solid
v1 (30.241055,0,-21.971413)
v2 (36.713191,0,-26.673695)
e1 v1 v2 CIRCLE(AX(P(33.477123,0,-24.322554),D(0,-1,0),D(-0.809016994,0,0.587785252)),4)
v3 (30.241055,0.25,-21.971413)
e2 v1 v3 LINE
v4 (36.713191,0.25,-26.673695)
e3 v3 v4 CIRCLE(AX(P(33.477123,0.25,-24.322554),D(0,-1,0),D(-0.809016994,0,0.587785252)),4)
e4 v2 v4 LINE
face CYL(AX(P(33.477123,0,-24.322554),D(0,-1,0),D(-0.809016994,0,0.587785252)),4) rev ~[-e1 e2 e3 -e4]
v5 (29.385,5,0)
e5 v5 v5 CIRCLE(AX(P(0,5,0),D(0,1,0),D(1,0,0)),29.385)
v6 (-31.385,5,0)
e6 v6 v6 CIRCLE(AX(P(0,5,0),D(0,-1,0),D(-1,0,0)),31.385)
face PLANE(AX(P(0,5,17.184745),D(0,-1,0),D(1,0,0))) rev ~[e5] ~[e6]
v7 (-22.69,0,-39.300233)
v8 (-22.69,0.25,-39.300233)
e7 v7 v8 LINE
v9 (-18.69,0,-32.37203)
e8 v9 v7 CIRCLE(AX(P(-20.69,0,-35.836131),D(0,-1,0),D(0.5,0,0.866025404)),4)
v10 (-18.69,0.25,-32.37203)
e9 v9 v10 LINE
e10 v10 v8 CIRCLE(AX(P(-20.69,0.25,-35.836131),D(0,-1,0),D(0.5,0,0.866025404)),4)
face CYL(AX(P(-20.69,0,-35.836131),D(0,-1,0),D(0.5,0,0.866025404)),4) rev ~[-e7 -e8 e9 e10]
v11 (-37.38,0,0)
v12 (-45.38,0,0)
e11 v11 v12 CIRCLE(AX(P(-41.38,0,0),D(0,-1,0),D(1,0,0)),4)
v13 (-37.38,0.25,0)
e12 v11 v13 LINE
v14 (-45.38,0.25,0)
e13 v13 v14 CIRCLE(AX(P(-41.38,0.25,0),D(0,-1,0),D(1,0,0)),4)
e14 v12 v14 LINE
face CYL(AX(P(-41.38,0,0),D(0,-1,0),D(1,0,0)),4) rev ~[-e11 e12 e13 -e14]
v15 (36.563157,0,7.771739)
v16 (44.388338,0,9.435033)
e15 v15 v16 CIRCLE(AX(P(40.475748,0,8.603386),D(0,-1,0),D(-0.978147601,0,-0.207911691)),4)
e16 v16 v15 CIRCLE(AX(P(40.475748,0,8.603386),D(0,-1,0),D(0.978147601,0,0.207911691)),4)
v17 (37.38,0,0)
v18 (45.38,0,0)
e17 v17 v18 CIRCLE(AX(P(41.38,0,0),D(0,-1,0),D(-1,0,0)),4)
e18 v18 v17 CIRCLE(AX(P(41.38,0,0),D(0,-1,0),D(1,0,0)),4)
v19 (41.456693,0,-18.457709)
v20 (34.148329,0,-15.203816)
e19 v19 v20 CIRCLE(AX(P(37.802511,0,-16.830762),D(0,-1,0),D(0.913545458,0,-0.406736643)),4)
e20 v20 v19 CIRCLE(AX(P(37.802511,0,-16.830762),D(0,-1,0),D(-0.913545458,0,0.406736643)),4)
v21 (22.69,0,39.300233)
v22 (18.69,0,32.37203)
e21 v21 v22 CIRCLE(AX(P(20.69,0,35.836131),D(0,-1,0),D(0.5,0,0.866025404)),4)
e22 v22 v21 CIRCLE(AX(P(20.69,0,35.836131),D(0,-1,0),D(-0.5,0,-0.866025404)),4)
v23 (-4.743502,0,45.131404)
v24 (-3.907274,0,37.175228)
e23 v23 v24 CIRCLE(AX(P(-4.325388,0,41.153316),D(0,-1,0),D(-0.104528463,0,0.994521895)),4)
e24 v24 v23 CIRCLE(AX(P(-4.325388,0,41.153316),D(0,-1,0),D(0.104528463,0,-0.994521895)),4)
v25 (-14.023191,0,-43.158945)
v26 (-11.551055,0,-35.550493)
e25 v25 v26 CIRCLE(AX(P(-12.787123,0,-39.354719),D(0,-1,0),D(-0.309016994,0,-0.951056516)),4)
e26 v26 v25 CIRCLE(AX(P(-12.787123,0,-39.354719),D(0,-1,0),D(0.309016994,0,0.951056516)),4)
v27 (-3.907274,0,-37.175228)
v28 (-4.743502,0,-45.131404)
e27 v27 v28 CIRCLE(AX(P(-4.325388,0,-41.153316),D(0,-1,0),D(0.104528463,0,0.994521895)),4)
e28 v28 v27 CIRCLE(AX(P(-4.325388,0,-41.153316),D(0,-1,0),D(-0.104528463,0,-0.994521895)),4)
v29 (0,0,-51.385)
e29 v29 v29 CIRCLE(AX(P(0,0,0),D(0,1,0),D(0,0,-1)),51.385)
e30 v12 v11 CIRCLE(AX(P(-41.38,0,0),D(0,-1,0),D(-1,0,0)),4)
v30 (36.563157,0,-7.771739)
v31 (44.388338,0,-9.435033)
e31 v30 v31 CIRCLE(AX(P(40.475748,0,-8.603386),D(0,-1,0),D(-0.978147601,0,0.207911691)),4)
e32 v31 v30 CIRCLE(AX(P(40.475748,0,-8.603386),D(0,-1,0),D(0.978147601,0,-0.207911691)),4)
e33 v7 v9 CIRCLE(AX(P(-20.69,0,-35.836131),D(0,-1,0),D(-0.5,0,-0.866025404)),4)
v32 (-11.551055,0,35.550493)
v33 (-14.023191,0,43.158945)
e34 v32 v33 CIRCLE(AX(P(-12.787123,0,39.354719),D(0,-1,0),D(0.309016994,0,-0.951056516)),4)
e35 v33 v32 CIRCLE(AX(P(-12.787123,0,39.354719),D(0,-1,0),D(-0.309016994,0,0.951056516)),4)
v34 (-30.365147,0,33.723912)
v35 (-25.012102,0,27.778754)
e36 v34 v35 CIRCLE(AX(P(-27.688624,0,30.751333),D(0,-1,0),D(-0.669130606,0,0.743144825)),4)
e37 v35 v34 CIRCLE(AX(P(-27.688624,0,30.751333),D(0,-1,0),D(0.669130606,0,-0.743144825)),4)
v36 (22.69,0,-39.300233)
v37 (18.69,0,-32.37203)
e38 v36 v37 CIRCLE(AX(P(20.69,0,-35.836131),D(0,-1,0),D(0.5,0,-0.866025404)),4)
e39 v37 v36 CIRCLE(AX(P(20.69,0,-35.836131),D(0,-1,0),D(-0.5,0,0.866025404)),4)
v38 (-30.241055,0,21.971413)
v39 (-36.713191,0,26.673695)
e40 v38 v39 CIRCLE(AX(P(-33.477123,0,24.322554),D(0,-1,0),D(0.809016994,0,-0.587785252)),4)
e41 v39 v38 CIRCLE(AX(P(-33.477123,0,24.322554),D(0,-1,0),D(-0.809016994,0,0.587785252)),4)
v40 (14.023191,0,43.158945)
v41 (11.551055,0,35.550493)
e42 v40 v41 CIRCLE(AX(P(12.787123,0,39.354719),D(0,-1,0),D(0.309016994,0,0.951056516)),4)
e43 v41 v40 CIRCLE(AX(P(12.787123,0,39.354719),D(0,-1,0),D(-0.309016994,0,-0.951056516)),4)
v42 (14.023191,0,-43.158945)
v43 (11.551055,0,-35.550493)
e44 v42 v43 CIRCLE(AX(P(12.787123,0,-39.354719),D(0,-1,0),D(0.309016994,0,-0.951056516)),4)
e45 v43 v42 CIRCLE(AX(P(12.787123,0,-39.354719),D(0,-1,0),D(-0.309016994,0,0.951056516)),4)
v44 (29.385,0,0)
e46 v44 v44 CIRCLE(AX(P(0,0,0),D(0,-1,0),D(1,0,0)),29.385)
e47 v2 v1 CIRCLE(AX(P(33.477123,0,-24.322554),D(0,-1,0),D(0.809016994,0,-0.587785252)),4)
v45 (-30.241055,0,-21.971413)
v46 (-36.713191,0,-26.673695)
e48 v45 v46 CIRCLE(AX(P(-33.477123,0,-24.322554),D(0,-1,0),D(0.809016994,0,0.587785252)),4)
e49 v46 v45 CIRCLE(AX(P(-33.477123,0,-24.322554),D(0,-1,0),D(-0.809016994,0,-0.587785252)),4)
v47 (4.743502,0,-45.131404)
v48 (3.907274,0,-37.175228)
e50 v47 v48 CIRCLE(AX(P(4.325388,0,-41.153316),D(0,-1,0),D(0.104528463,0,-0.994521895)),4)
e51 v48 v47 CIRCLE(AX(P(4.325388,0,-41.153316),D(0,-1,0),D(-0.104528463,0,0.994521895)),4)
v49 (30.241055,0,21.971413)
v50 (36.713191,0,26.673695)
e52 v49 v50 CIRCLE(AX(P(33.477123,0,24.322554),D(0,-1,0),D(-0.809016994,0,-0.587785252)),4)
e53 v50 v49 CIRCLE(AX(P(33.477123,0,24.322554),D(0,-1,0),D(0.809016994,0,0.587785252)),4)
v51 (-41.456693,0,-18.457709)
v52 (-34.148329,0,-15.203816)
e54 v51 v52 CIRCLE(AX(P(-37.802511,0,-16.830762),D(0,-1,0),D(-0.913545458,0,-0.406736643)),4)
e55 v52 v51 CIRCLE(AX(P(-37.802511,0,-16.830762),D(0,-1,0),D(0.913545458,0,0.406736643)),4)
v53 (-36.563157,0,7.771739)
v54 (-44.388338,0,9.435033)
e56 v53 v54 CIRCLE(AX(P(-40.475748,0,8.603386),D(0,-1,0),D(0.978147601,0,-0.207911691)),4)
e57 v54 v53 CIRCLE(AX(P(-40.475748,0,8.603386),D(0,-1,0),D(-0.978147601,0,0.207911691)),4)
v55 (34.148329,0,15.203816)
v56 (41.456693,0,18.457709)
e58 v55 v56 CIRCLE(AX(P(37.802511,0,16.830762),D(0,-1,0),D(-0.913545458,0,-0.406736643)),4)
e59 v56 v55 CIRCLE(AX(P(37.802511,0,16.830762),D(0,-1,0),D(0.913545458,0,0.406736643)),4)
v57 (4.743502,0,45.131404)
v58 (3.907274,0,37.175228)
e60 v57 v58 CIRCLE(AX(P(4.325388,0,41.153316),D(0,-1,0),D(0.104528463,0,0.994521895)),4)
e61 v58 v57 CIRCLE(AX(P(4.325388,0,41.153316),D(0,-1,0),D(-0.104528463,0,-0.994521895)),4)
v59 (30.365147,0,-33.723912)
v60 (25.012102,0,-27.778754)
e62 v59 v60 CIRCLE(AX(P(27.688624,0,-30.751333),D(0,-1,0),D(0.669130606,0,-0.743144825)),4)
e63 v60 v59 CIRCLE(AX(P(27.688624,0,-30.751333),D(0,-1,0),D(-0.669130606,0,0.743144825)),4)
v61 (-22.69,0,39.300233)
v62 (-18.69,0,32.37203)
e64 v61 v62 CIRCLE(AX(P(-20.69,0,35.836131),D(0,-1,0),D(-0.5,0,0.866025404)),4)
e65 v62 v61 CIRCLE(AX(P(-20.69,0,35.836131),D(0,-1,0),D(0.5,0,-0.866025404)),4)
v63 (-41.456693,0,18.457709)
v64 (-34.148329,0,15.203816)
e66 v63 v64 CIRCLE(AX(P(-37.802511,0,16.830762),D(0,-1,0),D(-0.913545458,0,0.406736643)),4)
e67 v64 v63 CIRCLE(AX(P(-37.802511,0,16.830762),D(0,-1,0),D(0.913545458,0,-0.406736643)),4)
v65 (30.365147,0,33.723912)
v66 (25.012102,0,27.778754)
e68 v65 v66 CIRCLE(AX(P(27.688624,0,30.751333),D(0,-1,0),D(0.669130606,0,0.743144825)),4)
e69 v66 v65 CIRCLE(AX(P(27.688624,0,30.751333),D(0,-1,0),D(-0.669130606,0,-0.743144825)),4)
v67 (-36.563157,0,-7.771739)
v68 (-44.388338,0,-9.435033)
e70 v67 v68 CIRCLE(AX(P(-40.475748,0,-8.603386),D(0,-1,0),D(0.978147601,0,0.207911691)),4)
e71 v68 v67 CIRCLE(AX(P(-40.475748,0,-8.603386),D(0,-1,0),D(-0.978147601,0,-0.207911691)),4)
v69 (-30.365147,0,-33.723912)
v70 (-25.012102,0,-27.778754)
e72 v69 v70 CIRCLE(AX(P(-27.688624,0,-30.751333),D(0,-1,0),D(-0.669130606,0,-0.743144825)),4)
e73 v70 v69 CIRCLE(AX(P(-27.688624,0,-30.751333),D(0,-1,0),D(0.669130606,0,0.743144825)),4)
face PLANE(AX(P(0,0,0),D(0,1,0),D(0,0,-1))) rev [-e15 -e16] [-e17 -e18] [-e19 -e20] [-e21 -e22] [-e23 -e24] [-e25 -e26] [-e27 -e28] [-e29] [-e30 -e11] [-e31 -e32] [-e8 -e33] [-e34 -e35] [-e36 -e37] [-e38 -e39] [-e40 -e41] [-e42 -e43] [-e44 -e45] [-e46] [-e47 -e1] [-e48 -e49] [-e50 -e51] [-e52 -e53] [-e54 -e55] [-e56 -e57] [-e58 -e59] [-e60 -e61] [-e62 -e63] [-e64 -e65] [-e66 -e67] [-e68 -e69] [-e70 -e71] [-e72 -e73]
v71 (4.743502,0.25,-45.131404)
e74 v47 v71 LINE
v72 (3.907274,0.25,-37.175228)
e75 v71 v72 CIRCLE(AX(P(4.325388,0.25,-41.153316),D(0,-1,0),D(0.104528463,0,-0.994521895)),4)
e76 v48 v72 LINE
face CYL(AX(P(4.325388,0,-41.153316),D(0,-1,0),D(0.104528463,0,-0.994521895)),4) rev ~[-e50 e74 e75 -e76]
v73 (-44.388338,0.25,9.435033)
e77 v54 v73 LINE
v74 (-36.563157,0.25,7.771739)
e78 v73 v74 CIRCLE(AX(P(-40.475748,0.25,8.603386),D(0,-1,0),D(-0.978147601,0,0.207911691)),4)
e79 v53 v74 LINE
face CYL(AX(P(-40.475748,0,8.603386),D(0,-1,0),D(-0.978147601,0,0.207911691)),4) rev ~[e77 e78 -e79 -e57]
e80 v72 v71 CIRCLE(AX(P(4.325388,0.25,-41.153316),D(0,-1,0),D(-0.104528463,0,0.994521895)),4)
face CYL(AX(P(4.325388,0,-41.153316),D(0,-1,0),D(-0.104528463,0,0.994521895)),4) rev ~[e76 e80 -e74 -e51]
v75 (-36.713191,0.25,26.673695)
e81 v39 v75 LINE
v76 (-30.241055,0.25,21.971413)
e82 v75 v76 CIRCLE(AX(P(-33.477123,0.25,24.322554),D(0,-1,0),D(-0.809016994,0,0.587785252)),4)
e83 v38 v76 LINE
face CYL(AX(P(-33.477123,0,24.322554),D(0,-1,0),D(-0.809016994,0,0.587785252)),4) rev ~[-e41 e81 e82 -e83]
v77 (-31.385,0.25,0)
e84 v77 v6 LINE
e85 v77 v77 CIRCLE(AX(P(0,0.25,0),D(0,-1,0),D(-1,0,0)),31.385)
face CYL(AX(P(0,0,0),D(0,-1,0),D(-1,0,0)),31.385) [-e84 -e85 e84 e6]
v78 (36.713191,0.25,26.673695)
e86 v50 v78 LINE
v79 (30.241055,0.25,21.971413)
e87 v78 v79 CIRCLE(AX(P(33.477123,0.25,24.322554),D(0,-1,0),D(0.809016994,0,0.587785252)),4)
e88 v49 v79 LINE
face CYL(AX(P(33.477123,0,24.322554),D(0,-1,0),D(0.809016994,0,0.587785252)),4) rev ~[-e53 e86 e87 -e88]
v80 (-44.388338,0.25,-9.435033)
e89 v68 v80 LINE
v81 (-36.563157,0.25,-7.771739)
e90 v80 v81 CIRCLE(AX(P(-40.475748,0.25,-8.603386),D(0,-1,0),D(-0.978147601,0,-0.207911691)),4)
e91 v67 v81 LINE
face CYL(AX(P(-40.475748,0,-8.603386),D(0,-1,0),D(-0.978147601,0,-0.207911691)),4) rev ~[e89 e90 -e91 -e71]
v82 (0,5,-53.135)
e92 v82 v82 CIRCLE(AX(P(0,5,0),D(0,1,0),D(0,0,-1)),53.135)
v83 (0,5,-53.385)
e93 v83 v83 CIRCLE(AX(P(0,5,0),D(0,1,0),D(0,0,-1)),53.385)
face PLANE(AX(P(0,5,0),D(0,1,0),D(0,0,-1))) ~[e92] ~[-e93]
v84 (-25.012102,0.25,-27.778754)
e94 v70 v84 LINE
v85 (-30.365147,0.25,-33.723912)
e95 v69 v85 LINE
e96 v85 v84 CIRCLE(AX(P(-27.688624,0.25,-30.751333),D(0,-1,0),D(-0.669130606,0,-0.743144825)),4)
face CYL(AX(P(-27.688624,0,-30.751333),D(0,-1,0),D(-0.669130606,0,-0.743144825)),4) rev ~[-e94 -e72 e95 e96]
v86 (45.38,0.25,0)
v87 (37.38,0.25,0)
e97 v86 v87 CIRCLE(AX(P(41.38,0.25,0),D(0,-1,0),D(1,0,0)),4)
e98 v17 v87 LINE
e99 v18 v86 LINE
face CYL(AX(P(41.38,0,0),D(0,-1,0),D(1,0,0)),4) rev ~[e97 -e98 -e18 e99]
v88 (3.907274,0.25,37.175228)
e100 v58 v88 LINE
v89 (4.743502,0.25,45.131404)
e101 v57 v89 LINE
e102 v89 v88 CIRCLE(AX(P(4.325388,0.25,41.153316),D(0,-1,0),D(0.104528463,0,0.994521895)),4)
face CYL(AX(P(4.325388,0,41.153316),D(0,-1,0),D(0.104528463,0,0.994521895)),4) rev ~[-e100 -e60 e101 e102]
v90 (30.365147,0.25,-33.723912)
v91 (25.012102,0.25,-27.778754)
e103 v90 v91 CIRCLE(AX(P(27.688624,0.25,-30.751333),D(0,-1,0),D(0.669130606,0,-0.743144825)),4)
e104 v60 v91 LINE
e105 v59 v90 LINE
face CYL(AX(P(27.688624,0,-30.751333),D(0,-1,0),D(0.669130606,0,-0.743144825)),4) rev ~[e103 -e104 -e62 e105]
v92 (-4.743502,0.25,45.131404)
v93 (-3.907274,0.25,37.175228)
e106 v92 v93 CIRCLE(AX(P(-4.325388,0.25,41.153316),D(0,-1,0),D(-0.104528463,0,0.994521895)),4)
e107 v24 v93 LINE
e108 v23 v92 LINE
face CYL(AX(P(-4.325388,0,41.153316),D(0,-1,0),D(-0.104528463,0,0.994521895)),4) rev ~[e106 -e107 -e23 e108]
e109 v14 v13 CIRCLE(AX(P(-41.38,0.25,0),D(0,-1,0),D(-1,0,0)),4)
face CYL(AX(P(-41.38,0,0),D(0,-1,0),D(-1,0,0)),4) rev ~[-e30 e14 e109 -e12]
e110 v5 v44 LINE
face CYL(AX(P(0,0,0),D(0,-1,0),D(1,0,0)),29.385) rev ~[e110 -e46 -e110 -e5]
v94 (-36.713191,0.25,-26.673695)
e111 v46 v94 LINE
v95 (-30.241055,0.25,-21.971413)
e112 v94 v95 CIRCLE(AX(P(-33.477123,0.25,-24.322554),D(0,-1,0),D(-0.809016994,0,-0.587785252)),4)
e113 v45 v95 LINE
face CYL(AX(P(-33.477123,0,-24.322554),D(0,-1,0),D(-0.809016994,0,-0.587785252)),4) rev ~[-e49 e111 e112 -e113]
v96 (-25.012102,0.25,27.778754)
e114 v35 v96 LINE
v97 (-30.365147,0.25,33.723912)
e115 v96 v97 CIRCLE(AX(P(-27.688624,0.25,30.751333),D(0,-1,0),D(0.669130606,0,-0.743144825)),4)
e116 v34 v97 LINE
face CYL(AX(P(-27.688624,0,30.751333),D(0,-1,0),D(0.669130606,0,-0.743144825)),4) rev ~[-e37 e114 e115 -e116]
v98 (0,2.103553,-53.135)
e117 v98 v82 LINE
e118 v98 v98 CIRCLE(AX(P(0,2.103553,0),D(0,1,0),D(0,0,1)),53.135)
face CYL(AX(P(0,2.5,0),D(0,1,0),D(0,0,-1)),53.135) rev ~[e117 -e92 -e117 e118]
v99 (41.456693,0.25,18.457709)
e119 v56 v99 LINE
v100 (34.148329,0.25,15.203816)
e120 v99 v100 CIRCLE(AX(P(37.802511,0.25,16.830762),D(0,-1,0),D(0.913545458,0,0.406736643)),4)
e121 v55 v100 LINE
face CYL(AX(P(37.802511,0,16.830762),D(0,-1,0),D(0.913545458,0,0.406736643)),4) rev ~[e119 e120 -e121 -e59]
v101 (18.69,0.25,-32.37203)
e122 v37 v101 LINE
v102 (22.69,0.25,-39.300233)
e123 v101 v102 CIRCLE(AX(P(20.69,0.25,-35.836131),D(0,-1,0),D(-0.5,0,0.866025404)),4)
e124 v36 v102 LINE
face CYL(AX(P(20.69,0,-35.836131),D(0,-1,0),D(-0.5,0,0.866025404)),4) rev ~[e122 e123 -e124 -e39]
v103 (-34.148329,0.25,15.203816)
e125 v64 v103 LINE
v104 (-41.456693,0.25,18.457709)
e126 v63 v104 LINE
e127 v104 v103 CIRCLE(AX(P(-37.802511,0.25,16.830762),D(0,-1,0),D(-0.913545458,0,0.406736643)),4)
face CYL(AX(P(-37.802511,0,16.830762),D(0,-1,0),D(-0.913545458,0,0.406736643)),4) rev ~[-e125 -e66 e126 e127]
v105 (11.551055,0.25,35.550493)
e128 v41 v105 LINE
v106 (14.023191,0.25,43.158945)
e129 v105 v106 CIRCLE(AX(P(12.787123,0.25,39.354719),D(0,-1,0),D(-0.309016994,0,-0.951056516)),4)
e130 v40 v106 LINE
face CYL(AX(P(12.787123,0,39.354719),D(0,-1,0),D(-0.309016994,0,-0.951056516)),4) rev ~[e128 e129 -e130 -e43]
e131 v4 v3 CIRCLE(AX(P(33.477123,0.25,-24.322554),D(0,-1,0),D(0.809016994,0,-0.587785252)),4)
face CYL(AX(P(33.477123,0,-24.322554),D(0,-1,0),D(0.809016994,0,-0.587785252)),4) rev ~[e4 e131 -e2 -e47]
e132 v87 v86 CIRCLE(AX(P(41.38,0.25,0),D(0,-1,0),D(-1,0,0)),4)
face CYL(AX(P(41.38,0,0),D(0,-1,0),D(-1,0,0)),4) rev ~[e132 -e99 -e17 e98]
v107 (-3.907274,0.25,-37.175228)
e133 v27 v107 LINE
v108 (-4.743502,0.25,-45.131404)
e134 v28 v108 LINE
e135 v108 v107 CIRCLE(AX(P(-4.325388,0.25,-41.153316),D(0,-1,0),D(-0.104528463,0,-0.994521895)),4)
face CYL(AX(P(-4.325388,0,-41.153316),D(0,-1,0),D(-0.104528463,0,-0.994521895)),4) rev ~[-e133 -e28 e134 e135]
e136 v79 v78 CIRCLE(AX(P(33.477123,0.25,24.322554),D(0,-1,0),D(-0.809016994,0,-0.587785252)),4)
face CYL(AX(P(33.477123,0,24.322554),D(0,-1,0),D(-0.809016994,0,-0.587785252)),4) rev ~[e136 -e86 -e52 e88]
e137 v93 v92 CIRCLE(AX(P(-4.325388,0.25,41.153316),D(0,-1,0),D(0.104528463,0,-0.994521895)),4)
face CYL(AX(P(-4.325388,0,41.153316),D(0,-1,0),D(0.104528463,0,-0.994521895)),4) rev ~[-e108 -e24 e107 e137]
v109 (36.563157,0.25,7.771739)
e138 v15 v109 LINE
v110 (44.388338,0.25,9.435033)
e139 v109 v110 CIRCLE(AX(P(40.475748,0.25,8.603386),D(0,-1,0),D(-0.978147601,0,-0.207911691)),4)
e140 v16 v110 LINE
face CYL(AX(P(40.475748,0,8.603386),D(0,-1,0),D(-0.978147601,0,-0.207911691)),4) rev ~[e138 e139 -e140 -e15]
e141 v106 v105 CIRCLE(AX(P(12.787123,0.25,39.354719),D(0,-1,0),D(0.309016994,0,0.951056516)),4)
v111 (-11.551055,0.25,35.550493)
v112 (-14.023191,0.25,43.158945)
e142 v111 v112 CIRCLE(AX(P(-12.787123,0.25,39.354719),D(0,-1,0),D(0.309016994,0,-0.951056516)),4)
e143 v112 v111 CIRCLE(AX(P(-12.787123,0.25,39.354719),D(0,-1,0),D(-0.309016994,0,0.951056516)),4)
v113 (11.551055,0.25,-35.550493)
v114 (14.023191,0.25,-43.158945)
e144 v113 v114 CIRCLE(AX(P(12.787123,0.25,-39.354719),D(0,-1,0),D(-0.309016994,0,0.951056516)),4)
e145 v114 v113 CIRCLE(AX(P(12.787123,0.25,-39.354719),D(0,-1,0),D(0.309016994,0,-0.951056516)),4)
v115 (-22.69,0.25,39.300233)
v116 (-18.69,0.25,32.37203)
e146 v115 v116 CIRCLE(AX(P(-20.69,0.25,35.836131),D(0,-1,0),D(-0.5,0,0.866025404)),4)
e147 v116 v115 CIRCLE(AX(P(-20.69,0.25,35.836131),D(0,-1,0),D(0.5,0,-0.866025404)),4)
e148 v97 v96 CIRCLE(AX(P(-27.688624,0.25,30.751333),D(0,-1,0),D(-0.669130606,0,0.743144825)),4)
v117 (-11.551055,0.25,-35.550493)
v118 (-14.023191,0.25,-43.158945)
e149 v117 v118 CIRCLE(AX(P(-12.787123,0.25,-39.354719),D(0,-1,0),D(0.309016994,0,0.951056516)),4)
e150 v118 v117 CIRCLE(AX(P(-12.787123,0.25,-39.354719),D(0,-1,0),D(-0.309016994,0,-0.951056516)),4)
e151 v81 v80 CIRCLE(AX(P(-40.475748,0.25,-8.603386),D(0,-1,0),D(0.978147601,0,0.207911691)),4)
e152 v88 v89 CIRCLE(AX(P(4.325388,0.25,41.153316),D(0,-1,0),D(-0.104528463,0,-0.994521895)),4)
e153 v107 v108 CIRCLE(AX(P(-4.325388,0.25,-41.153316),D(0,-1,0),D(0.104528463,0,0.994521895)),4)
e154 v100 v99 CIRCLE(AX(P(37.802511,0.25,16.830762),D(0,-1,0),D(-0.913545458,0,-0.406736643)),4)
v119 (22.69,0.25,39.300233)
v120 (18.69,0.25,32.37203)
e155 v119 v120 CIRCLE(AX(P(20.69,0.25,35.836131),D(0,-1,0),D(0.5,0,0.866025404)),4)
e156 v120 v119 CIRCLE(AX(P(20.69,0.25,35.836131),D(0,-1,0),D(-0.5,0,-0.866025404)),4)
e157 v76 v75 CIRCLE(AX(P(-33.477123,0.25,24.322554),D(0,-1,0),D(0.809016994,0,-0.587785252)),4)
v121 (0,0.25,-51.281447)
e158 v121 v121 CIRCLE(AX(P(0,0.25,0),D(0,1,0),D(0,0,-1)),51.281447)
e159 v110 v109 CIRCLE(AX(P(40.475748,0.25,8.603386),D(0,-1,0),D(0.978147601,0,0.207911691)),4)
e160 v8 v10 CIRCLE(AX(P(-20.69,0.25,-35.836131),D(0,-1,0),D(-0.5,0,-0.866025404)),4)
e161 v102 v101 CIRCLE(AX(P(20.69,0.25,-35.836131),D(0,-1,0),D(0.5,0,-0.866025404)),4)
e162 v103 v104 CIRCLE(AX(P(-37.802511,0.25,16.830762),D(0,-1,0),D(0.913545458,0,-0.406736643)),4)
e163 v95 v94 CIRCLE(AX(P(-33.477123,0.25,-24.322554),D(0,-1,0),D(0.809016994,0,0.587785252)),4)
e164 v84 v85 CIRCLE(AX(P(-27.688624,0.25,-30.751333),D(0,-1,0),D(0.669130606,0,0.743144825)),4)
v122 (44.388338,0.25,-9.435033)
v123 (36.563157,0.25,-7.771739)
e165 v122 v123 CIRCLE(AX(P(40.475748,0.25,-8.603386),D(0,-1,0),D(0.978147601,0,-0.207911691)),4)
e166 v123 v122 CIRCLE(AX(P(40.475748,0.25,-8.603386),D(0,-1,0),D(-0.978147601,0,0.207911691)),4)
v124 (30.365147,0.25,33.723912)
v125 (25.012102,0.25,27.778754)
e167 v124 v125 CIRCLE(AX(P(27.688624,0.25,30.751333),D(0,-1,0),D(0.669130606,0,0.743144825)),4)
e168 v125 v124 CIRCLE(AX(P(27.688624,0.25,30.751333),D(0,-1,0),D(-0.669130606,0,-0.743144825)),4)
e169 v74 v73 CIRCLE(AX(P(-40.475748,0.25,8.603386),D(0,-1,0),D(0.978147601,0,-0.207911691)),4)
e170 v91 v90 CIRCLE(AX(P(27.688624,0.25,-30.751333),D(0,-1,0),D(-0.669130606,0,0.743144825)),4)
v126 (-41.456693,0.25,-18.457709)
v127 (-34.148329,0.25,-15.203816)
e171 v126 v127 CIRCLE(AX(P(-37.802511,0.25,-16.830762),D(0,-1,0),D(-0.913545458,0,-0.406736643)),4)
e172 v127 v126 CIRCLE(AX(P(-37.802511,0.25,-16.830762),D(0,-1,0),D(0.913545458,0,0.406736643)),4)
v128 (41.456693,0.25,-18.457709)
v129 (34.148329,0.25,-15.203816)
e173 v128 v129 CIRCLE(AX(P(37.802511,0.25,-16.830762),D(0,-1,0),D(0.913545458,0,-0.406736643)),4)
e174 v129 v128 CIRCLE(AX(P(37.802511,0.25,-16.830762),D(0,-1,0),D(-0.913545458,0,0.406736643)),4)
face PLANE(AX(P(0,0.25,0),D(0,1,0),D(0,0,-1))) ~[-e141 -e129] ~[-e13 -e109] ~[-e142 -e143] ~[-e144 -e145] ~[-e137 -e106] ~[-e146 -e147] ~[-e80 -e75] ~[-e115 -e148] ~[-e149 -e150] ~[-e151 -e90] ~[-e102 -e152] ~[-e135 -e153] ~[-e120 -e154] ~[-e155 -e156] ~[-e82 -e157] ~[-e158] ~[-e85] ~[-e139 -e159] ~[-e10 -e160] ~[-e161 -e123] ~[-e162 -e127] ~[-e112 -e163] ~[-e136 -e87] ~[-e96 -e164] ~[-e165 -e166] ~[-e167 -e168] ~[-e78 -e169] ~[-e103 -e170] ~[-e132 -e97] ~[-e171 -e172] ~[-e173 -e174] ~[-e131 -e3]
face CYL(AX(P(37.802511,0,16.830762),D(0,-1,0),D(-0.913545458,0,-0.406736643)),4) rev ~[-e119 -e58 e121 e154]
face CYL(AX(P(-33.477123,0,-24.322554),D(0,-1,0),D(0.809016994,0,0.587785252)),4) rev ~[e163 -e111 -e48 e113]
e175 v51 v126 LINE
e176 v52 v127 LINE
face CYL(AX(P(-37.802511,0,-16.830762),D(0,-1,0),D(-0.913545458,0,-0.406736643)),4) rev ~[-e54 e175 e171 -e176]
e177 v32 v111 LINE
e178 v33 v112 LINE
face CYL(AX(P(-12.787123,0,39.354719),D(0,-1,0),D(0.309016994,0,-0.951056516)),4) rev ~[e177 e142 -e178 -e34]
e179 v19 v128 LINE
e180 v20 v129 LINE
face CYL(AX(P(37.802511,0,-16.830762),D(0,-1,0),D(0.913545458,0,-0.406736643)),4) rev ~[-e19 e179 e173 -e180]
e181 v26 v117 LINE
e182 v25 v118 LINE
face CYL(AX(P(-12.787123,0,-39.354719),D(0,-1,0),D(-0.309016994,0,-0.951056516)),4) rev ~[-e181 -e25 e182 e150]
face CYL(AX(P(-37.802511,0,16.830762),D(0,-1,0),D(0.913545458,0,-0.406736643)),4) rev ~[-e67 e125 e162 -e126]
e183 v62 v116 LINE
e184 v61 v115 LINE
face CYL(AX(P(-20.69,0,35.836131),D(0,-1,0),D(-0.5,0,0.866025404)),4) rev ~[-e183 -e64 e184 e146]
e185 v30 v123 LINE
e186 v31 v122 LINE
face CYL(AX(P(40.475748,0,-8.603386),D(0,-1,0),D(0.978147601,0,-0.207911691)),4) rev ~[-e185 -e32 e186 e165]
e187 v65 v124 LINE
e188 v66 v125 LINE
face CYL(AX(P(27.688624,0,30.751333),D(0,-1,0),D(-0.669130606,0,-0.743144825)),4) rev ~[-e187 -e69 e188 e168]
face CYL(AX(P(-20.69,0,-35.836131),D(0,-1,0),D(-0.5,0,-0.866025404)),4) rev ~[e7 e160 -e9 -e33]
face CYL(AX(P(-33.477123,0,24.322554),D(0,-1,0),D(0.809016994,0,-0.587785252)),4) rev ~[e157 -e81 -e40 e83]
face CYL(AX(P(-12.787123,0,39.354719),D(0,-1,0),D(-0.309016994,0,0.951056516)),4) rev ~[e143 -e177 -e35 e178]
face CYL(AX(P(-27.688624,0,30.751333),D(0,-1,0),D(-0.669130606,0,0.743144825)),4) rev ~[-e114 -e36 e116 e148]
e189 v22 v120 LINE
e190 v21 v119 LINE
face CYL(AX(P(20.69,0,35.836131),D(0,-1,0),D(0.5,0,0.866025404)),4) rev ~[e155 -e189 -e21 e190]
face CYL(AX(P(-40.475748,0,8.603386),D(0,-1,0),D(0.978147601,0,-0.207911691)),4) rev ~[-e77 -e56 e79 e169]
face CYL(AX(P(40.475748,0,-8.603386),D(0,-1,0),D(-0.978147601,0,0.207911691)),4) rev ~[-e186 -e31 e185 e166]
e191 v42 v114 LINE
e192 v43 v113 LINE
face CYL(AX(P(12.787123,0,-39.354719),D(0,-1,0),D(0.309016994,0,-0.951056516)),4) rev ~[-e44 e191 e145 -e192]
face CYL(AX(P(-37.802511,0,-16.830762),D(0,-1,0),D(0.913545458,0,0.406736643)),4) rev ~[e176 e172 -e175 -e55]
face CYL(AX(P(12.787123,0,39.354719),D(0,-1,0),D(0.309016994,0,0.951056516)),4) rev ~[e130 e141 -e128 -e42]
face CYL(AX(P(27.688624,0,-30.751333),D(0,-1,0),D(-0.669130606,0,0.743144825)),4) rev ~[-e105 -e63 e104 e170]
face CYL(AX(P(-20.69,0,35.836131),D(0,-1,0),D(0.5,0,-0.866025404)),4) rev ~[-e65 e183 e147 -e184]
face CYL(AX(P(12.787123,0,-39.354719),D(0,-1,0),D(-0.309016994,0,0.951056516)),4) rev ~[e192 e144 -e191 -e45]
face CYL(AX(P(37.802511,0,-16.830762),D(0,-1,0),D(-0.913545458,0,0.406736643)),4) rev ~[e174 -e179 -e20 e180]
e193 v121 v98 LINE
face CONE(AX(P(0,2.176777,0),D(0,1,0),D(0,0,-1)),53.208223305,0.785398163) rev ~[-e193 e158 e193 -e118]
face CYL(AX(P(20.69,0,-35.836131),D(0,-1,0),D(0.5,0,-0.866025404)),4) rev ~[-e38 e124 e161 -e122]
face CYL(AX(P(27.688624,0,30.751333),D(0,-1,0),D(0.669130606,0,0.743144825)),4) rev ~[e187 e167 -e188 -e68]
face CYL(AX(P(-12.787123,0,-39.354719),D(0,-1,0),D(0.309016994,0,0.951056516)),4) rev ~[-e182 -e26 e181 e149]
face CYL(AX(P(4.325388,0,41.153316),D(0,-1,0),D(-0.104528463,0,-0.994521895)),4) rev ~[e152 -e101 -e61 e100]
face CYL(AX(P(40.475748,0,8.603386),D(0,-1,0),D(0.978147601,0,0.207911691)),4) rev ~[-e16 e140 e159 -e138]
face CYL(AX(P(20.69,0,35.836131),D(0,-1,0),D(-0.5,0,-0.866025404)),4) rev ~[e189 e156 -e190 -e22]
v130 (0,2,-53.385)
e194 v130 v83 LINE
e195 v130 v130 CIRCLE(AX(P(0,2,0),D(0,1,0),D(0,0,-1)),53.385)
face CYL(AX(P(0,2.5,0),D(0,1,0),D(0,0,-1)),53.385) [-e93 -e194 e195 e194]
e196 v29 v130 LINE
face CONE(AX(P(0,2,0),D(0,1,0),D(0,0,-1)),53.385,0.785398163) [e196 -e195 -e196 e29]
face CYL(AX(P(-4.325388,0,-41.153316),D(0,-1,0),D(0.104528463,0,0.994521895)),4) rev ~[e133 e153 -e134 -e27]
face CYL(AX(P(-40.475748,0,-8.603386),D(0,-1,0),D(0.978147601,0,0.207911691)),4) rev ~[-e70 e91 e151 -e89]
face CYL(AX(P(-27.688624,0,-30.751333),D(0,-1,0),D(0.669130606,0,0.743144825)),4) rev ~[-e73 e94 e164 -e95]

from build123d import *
from build123d.topology import SkipClean

# Parameters (mm, degrees)
SKETCH1_W           = 5
SKETCH1_H           = 53.385
CHAMFER1_SIZE       = 2
SHELL1_T            = -0.25
CUT_EXTRUDE1_DEPTH  = 10
BOSS_EXTRUDE1_DEPTH = 5
CUT_EXTRUDE2_DEPTH  = 76.663177636
CIRPATTERN1_COUNT   = 30


with BuildPart() as part:
    # Sketch1 → Revolve1 (revolve)
    with BuildSketch(Plane.YZ, mode=Mode.PRIVATE) as revolve1_sk:
        with Locations((2.5, 26.6925)):
            Rectangle(SKETCH1_W, SKETCH1_H)
    revolve(revolve1_sk.sketch.rotate(Axis((0, -14.724137931, 0), (0, 1, 0)), 180), axis=Axis((0, -14.724137931, 0), (0, 1, 0)))

    # Chamfer1
    chamfer1_edges = [part.edges().sort_by_distance(p)[0] for p in [
        (0, 0, 53.385),
    ]]
    chamfer(chamfer1_edges, length=CHAMFER1_SIZE)

    # Shell1
    shell1_openings = [part.faces().sort_by_distance(p)[0] for p in [
        (0, 5, 0),
    ]]
    offset(amount=SHELL1_T, openings=shell1_openings, kind=Kind.INTERSECTION)

    # Sketch2 → Cut-Extrude1 (cut)
    with BuildSketch(Plane.XZ):
        with BuildLine():
            ThreePointArc((-29.385, 0), (0, -29.385), (29.385, 0))
            Line((29.385, 0), (-29.385, 0))
        make_face()
        with BuildLine():
            Line((-29.385, 0), (29.385, 0))
            ThreePointArc((29.385, 0), (0, 29.385), (-29.385, 0))
        make_face()
    extrude(amount=-CUT_EXTRUDE1_DEPTH, mode=Mode.SUBTRACT)

    # Sketch2<3> → Boss-Extrude1 (add)
    with BuildSketch(Plane.XZ):
        with BuildLine():
            ThreePointArc((-29.385, 0), (0, 29.385), (29.385, 0))
            Line((29.385, 0), (31.385, 0))
            ThreePointArc((31.385, 0), (0, 31.385), (-31.385, 0))
            Line((-31.385, 0), (-29.385, 0))
        make_face()
        with BuildLine():
            Line((31.385, 0), (29.385, 0))
            ThreePointArc((29.385, 0), (0, -29.385), (-29.385, 0))
            Line((-29.385, 0), (-31.385, 0))
            ThreePointArc((-31.385, 0), (0, -31.385), (31.385, 0))
        make_face()
    extrude(amount=-BOSS_EXTRUDE1_DEPTH)

    # Sketch2<4> → Cut-Extrude2 (cut, symmetric)
    with SkipClean():  # the faces are left unmerged after this step: merging them gives an invalid solid
        with BuildSketch(Plane.XZ):
            with BuildLine():
                ThreePointArc((-45.38, 0), (-41.38, -4), (-37.38, 0))
                Line((-37.38, 0), (-45.38, 0))
            make_face()
            with BuildLine():
                Line((-45.38, 0), (-37.38, 0))
                ThreePointArc((-37.38, 0), (-41.38, 4), (-45.38, 0))
            make_face()
        cut_extrude2 = extrude(amount=CUT_EXTRUDE2_DEPTH, both=True, mode=Mode.SUBTRACT)

    # CirPattern1: Cut-Extrude2 ×30 about axis
    with SkipClean():  # the faces are left unmerged after this step: merging them gives an invalid solid
        cirpattern1_axis = Axis((0, 0, 0), (0, 1, 0))
        for i in range(1, CIRPATTERN1_COUNT):
            add(cut_extrude2.rotate(cirpattern1_axis, i * 360 / CIRPATTERN1_COUNT), mode=Mode.SUBTRACT)


solid = part.part
